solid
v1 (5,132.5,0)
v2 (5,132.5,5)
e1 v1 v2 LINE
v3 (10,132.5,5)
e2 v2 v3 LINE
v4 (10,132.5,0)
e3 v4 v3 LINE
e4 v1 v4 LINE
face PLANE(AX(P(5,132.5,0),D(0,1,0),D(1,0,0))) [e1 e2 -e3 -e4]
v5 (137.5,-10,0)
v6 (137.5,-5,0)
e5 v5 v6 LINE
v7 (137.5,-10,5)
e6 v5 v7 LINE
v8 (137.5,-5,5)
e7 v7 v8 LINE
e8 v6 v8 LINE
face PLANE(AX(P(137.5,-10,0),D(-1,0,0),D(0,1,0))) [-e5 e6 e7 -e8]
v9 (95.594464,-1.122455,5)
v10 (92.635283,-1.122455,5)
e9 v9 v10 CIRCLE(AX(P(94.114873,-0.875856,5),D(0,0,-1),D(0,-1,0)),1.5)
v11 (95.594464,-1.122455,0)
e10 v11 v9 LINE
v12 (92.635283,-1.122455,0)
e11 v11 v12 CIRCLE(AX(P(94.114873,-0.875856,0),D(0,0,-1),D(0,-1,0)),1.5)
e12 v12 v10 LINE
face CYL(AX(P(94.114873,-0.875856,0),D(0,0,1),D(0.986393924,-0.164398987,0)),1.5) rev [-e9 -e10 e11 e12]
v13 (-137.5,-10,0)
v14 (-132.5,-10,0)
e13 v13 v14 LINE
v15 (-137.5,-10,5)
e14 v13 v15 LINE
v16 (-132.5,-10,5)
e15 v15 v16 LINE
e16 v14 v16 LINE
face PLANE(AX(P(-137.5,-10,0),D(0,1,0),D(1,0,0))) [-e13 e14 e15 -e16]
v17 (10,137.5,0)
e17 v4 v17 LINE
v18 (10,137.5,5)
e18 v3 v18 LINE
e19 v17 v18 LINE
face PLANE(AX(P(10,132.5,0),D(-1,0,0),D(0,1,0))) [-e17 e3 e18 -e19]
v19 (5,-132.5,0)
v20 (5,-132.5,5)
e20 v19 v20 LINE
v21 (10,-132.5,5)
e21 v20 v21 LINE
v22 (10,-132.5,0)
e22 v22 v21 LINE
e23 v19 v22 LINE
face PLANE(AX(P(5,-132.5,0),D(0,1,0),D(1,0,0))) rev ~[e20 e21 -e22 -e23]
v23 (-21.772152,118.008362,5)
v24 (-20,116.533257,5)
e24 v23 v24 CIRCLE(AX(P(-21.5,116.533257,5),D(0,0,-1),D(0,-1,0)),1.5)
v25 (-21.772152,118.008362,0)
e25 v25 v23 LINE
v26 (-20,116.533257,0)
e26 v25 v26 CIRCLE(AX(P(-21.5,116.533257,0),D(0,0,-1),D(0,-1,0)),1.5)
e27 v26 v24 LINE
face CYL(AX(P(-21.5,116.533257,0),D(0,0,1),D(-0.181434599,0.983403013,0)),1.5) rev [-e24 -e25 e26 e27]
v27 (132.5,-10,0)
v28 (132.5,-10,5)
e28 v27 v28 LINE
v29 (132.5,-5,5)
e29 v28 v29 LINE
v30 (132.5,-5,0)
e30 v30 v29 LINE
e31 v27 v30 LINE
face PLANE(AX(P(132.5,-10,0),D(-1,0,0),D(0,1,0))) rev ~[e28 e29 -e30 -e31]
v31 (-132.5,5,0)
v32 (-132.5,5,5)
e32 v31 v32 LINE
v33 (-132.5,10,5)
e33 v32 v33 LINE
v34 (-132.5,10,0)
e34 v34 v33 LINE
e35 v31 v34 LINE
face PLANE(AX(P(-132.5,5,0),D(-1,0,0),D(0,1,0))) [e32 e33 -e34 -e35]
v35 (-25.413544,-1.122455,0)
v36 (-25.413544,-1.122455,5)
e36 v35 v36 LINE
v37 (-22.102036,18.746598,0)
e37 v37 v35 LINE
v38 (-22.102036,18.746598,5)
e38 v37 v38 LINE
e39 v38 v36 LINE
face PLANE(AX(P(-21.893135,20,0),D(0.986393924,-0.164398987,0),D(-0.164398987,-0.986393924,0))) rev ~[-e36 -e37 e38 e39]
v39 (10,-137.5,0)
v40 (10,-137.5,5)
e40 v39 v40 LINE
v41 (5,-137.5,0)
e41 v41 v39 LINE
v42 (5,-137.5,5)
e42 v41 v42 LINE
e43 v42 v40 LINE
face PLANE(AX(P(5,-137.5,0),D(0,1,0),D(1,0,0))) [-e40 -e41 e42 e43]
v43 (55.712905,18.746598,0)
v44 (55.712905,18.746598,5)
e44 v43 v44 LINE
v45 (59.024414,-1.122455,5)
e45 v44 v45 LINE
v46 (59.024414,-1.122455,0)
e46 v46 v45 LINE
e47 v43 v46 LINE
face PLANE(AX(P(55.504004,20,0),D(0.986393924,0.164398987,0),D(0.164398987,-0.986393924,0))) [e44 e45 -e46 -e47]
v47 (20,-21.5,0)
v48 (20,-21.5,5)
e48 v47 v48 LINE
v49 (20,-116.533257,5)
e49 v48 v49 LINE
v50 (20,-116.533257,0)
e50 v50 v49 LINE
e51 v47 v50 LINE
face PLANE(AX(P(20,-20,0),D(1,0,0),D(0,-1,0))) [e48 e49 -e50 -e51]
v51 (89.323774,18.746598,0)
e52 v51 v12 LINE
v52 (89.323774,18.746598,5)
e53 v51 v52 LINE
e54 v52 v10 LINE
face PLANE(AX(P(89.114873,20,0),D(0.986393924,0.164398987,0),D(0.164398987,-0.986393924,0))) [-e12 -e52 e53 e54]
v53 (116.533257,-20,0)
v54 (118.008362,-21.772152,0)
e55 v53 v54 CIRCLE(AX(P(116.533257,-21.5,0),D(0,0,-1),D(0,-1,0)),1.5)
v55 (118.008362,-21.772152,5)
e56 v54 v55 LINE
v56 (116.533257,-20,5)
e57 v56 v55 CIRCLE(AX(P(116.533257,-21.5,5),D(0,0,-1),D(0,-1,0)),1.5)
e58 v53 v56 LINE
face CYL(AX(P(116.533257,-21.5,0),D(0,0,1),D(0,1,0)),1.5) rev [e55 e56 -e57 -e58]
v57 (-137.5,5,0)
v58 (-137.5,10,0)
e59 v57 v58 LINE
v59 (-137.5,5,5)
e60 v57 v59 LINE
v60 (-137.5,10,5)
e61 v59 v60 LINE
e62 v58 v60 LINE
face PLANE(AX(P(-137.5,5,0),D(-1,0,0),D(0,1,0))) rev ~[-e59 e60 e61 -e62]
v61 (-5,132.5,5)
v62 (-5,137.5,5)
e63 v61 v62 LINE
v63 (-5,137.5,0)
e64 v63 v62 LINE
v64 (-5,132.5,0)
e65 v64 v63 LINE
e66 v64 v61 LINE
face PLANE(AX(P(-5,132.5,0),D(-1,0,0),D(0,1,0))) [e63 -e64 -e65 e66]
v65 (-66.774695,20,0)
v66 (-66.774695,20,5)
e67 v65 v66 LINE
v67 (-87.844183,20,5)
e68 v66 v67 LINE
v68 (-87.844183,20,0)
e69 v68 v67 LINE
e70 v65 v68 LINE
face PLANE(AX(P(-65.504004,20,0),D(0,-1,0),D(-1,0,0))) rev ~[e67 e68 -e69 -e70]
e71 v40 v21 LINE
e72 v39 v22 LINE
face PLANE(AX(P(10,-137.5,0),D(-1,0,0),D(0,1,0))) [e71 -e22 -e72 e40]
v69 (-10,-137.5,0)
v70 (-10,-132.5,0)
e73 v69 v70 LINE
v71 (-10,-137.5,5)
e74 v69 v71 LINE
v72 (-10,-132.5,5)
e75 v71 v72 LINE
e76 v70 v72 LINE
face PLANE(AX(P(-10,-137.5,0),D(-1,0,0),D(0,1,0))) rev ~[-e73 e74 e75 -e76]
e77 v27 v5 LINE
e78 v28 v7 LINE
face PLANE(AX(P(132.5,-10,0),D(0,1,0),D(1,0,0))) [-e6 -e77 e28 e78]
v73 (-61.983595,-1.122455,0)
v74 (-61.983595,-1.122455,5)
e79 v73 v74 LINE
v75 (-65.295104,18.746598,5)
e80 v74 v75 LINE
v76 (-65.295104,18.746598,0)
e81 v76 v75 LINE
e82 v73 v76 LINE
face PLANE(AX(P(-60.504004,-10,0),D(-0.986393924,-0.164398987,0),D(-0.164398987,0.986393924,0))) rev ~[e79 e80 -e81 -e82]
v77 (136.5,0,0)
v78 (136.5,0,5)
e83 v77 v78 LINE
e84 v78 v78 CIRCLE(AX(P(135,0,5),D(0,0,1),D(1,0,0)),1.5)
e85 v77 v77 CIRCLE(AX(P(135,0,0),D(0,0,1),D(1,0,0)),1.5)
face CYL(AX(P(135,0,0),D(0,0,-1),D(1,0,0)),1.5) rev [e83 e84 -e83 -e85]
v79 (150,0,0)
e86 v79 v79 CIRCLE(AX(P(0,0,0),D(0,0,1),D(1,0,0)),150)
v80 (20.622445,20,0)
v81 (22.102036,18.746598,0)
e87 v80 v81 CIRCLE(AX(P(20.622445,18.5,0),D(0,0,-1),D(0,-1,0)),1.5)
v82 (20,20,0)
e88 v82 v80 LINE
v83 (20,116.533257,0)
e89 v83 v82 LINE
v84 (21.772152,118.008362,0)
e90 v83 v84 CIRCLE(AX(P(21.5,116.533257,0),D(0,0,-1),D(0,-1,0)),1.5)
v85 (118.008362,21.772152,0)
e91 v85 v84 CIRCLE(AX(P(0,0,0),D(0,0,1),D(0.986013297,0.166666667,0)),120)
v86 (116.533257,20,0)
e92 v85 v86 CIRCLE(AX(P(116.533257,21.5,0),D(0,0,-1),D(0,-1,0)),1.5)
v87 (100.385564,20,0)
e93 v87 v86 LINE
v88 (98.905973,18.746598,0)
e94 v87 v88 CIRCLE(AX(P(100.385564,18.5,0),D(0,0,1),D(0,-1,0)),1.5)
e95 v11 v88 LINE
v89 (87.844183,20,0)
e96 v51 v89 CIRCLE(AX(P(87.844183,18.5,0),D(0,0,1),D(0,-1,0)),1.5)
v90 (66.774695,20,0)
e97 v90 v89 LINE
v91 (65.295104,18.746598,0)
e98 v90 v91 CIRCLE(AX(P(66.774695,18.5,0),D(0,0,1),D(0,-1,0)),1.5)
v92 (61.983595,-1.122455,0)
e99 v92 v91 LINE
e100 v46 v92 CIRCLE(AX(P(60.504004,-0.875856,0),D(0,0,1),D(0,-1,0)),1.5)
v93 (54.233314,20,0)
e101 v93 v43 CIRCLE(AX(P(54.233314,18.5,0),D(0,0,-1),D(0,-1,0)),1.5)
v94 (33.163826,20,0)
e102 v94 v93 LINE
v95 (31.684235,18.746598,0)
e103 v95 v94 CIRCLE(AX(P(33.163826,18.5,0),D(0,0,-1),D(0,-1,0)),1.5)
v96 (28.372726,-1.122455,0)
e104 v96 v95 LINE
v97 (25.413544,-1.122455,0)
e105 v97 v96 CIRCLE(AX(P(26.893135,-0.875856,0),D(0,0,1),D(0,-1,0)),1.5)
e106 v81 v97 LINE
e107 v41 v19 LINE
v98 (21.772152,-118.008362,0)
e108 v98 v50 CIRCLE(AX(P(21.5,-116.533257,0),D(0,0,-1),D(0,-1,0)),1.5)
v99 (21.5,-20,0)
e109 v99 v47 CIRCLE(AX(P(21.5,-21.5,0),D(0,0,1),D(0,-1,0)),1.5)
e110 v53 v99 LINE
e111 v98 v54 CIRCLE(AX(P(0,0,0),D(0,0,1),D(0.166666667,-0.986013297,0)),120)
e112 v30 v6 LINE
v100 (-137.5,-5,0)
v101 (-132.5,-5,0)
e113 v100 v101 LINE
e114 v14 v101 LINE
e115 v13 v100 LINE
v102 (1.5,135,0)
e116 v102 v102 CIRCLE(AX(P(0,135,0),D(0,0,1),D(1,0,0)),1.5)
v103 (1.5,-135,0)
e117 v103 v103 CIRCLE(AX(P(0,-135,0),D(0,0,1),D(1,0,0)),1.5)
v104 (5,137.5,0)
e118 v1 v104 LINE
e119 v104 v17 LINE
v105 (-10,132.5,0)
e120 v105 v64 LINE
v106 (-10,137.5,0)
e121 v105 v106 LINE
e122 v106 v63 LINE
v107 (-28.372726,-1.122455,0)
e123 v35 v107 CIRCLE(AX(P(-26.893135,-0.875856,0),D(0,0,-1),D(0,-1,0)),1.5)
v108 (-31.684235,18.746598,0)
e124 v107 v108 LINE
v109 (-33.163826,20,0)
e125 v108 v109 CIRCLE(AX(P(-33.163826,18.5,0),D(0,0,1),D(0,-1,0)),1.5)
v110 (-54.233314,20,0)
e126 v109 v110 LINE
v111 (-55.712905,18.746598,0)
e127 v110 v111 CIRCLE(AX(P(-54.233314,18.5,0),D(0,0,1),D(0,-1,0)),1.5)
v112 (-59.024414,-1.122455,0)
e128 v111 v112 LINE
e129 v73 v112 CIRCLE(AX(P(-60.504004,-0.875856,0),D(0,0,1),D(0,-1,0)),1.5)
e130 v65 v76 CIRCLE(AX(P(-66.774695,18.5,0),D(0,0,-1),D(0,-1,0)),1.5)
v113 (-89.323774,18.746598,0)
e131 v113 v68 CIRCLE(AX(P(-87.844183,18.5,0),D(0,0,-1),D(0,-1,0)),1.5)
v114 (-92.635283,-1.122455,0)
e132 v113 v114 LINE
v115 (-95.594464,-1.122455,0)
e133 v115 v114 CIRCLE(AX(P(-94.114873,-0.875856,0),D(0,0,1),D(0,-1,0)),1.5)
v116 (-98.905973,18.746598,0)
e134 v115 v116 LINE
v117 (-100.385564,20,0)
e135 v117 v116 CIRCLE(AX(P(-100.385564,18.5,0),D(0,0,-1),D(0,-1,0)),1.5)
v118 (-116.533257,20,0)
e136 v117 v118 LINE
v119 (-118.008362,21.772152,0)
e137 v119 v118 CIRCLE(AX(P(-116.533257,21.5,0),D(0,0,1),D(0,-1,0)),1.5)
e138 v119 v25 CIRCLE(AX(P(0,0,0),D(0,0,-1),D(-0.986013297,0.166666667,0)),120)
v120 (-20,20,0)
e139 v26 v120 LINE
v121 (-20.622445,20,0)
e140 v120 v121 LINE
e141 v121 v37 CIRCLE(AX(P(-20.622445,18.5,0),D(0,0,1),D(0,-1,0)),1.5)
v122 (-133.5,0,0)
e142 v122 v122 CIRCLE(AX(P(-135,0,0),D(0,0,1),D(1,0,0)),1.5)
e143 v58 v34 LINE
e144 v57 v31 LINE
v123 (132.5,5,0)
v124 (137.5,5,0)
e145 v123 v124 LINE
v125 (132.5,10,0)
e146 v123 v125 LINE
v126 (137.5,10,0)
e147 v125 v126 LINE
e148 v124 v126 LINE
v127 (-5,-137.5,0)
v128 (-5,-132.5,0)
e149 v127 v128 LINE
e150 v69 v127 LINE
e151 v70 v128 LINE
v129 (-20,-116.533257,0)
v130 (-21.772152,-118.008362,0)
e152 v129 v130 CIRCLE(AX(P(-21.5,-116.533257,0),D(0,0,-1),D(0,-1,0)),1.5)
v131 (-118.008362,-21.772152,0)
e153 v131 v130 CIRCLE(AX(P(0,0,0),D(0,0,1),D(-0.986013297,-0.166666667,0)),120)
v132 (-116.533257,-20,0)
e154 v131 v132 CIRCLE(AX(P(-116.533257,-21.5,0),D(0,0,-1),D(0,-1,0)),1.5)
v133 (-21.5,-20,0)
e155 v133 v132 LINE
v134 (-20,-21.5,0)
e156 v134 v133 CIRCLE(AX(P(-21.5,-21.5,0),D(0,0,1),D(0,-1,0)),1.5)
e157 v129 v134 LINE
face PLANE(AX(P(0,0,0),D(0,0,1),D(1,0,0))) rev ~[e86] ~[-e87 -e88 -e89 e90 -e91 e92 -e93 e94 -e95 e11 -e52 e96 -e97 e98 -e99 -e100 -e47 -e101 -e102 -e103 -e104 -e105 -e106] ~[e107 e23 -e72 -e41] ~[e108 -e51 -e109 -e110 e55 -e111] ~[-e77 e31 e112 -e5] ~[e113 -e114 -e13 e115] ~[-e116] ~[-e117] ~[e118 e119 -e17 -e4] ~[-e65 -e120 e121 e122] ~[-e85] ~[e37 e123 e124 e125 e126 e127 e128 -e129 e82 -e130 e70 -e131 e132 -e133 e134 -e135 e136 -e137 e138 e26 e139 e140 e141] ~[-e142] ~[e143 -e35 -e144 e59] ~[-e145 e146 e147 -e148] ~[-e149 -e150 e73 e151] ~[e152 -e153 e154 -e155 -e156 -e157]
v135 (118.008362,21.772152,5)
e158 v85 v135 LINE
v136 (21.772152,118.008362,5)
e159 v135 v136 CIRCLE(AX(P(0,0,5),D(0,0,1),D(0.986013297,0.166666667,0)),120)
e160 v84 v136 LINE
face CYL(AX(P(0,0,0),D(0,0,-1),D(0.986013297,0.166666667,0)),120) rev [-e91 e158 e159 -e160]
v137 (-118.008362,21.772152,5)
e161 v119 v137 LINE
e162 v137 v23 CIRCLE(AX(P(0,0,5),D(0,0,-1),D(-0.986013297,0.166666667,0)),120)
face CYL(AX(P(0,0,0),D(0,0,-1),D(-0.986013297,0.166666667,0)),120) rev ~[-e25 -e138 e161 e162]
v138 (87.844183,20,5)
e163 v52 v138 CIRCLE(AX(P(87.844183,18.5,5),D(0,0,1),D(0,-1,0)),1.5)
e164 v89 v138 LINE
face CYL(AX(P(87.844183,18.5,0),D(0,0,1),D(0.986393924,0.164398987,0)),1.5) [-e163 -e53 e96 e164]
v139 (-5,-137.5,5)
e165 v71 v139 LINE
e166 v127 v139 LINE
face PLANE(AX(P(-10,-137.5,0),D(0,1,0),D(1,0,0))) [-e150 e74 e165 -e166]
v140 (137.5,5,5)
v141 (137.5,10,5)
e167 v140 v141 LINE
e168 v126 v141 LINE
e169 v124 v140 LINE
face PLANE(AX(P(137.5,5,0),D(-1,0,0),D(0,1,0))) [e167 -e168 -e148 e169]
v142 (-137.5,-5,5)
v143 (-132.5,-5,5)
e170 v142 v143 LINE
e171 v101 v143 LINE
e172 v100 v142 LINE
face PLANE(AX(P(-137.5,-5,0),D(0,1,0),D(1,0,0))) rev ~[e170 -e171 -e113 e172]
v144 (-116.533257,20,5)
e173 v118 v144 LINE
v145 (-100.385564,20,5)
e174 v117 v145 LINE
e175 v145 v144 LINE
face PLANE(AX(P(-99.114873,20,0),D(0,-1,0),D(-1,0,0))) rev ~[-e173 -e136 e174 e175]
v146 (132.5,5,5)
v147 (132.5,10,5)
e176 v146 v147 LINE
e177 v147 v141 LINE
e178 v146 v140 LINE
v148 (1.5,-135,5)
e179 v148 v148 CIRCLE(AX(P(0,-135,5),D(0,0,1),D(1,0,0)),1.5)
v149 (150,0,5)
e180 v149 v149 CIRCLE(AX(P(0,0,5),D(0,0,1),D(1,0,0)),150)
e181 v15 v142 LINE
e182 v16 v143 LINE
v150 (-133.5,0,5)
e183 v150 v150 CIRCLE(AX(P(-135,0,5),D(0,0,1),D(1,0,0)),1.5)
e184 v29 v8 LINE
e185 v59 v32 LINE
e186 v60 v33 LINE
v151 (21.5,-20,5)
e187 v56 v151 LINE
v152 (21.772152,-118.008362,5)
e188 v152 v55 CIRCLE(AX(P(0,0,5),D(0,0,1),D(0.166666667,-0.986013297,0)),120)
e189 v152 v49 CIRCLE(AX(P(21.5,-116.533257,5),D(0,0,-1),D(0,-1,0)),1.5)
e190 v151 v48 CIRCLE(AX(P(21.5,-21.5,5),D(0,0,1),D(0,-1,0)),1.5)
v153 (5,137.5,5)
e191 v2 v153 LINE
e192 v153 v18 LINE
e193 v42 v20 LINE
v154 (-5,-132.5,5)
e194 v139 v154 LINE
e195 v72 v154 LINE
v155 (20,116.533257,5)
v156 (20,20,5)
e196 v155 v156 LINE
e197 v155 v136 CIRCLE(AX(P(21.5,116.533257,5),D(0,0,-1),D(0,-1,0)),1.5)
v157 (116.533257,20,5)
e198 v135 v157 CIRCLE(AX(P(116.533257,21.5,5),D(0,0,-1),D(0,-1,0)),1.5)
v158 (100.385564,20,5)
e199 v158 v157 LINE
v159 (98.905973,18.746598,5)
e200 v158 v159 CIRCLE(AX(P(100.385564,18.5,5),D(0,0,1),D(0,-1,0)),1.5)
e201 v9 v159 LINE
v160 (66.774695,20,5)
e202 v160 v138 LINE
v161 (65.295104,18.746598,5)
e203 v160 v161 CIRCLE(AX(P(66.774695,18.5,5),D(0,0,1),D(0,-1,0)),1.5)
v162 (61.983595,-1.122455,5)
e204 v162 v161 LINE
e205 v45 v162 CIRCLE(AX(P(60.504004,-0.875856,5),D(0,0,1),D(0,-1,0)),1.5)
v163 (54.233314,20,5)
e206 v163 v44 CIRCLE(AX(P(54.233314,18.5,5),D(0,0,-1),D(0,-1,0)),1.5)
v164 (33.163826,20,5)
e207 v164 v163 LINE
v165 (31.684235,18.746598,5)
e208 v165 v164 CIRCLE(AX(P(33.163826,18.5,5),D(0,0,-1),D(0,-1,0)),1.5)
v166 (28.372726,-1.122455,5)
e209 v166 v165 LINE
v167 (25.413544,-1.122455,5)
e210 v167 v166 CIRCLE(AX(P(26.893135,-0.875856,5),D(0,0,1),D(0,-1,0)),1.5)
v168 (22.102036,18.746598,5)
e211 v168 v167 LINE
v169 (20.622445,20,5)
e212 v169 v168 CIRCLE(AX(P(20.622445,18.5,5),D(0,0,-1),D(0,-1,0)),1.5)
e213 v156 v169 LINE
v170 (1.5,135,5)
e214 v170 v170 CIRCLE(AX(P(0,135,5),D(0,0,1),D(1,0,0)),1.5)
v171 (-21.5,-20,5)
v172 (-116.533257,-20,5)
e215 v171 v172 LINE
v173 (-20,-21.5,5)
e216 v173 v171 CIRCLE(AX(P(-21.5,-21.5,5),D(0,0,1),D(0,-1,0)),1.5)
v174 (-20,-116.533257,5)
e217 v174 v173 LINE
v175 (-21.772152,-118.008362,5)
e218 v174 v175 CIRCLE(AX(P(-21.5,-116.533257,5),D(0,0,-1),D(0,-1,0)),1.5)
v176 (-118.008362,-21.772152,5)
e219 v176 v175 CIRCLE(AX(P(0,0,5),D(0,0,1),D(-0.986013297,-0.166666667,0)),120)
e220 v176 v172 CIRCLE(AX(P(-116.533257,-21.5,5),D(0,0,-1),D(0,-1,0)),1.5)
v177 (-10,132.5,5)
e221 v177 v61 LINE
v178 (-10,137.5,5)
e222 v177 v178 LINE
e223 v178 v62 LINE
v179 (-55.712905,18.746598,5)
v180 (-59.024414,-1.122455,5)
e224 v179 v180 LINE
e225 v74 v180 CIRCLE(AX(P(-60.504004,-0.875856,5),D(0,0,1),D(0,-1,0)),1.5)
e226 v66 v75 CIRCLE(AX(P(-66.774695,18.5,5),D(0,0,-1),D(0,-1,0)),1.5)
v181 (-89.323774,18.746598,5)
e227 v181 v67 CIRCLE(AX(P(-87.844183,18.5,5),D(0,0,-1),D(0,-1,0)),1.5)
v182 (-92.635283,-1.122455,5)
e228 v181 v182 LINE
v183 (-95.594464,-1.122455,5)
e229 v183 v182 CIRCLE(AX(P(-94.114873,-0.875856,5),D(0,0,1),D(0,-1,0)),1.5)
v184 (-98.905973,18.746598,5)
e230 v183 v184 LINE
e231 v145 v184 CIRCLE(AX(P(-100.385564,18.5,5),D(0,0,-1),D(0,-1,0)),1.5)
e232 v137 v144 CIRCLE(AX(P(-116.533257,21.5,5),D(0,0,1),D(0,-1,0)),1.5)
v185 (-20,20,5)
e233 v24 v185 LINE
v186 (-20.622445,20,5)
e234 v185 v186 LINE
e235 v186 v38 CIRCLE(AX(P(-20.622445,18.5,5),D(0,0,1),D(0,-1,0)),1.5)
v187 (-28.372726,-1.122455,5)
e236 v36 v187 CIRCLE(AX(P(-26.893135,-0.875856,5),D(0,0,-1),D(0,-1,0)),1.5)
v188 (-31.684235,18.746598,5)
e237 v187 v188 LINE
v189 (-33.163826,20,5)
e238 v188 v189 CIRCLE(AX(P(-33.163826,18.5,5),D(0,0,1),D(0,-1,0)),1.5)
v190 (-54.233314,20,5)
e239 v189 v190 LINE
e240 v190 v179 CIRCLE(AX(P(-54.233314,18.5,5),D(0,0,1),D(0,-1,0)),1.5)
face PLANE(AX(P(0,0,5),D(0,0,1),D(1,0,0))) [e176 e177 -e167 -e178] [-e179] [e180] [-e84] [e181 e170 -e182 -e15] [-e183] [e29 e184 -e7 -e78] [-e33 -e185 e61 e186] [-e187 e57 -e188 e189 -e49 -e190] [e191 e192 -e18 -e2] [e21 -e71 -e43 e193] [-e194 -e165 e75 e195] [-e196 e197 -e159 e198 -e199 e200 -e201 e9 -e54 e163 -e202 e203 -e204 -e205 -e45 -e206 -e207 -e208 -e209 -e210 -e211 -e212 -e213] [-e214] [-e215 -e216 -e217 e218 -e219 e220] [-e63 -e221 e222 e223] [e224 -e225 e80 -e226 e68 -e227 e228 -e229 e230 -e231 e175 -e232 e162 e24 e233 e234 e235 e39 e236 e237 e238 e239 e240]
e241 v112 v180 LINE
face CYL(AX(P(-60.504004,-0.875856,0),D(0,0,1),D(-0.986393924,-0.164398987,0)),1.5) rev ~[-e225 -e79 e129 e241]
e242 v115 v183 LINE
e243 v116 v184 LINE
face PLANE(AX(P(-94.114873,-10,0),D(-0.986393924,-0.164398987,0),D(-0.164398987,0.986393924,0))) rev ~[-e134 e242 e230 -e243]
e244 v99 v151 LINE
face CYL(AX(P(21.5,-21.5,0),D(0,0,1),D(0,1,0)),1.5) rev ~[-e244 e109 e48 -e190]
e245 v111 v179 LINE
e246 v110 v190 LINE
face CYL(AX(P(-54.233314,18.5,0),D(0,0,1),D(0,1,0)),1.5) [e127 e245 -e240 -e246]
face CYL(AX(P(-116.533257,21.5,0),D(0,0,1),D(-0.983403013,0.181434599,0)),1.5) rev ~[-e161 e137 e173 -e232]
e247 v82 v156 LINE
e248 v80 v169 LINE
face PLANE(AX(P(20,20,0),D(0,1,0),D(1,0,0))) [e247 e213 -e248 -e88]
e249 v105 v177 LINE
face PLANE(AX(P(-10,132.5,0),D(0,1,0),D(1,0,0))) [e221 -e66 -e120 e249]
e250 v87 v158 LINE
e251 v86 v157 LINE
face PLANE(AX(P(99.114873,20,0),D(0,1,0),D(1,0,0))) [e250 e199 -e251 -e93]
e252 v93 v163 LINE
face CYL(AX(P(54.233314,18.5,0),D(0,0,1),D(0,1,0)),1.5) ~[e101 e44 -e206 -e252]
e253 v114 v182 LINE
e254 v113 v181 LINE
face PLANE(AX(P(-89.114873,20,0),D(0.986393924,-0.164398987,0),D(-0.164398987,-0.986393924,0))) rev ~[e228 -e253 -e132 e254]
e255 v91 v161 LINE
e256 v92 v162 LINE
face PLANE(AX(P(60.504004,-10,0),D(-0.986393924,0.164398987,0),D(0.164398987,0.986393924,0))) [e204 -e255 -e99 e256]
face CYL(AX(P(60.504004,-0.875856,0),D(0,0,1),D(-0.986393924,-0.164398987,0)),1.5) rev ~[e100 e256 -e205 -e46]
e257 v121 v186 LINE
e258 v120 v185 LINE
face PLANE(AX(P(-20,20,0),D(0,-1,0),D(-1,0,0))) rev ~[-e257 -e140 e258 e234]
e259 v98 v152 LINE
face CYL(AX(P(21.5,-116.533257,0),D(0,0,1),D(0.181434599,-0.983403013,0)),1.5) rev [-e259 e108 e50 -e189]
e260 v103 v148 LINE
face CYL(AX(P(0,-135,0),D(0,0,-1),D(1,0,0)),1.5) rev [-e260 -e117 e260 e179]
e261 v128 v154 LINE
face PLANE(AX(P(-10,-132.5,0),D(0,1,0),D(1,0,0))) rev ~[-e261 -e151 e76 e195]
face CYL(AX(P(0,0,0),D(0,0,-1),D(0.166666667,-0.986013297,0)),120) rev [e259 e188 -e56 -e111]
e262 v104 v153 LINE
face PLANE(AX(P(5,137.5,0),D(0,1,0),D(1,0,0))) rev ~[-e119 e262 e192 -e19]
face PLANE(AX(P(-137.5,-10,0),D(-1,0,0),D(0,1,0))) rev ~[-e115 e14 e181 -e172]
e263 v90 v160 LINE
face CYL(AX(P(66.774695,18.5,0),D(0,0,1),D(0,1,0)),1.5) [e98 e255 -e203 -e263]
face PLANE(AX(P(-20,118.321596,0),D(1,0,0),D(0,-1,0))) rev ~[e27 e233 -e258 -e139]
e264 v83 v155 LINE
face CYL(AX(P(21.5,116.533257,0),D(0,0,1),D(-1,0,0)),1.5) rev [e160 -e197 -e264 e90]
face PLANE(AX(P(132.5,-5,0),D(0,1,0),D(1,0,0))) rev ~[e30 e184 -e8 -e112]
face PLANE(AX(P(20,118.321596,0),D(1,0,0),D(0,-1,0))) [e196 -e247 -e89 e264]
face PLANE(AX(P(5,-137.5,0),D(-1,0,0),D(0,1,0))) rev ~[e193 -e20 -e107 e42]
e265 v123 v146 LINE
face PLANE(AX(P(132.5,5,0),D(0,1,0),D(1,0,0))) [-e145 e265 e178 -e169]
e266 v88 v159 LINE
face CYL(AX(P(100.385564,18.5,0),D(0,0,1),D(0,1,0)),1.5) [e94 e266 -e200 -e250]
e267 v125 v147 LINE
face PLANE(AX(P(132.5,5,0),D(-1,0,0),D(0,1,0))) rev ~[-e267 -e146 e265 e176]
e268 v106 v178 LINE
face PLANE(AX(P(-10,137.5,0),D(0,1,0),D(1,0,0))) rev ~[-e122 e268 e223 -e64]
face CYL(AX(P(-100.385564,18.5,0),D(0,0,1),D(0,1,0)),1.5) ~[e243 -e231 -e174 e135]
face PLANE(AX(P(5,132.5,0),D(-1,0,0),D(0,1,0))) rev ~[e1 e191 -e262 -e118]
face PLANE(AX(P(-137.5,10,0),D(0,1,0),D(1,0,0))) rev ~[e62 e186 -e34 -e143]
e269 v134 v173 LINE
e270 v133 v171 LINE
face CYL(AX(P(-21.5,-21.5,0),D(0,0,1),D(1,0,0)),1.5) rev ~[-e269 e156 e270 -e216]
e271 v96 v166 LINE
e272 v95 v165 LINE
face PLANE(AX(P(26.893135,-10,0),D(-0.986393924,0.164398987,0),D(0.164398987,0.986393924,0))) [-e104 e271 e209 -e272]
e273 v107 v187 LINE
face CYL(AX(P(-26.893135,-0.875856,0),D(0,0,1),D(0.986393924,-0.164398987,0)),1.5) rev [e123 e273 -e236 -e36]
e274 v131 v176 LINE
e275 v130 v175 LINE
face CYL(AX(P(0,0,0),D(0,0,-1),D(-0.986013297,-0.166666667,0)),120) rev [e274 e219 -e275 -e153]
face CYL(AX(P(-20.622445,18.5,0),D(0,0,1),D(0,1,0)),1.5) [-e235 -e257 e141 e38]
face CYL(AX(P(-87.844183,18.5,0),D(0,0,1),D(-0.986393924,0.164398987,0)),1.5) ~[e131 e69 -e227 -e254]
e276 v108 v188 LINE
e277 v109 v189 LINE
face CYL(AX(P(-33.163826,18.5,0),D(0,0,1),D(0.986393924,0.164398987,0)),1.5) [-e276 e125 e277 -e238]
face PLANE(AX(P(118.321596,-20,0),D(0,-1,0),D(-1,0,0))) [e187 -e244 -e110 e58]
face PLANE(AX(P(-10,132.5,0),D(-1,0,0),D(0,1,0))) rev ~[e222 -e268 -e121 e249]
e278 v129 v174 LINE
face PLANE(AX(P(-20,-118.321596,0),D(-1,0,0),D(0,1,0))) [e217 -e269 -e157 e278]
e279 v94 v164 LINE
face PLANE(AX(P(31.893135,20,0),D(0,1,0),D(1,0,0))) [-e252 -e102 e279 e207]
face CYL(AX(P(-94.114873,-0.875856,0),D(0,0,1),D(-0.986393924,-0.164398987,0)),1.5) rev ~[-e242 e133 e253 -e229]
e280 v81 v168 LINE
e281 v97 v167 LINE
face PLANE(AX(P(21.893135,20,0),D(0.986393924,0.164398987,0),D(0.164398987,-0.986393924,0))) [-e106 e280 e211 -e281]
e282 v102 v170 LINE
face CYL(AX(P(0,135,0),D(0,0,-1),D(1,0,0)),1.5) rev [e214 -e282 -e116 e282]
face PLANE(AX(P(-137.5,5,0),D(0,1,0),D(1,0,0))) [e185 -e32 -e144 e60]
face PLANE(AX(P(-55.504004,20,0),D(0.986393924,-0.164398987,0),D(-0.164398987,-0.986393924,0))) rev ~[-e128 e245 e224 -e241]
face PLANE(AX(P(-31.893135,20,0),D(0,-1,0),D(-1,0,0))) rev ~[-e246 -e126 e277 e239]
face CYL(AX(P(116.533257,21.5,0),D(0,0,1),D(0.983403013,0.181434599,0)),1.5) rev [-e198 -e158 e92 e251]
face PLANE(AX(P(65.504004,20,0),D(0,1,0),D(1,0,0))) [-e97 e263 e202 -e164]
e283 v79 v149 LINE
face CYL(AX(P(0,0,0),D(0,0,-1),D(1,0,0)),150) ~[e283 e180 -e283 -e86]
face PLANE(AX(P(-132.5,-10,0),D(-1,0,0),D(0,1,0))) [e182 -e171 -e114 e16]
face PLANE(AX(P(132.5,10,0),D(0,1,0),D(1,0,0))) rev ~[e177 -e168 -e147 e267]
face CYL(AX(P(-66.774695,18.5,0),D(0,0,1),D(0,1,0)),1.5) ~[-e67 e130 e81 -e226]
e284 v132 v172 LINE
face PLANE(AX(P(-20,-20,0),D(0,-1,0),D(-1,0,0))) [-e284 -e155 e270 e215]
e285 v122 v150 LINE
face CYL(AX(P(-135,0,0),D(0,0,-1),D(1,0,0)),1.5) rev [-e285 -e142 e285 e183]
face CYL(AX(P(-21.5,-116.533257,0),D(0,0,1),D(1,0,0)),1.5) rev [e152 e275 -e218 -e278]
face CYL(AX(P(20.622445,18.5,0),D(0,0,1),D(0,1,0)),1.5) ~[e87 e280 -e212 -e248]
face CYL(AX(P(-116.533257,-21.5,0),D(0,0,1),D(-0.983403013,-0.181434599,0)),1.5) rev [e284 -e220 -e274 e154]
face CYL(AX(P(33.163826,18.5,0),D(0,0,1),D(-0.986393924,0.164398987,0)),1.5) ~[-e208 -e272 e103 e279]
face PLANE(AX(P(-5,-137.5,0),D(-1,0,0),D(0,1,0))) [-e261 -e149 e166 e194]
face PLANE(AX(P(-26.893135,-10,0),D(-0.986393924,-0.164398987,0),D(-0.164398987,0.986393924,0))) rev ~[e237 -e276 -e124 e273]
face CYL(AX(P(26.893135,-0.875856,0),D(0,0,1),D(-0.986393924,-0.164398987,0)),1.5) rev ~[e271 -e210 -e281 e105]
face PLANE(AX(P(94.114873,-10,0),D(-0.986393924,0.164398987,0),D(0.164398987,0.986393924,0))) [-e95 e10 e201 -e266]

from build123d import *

# Parameters (mm, degrees)
ESQUISSE1_R        = 150
ESQUISSE1_R_2      = 1.5
ESQUISSE1_W        = 5
ESQUISSE1_H        = 5
BOSS_EXTRU_1_DEPTH = 5
CONG_1_R           = 1.5


with BuildPart() as part:
    # Esquisse1 → Boss.-Extru.1 (new body)
    with BuildSketch(Plane.XY):
        Circle(ESQUISSE1_R)
        with Locations((-135, 0)):
            Circle(ESQUISSE1_R_2, mode=Mode.SUBTRACT)
        with Locations((0, 135)):
            Circle(ESQUISSE1_R_2, mode=Mode.SUBTRACT)
        with Locations((135, 0)):
            Circle(ESQUISSE1_R_2, mode=Mode.SUBTRACT)
        with Locations((0, -135)):
            Circle(ESQUISSE1_R_2, mode=Mode.SUBTRACT)
        with BuildLine():
            Line((-20, 118.321595662), (-20, 20))
            Line((-20, 20), (-21.893135369, 20))
            Line((-21.893135369, 20), (-26.893135369, -10))
            Line((-26.893135369, -10), (-31.893135369, 20))
            Line((-31.893135369, 20), (-55.504004396, 20))
            Line((-55.504004396, 20), (-60.504004396, -10))
            Line((-60.504004396, -10), (-65.504004396, 20))
            Line((-65.504004396, 20), (-89.114873423, 20))
            Line((-89.114873423, 20), (-94.114873423, -10))
            Line((-94.114873423, -10), (-99.114873423, 20))
            Line((-99.114873423, 20), (-118.321595662, 20))
            ThreePointArc((-118.321595662, 20), (-84.852813742, 84.852813742), (-20, 118.321595662))
        make_face(mode=Mode.SUBTRACT)
        with BuildLine():
            Line((20, 118.321595662), (20, 20))
            Line((20, 20), (21.893135369, 20))
            Line((21.893135369, 20), (26.893135369, -10))
            Line((26.893135369, -10), (31.893135369, 20))
            Line((31.893135369, 20), (55.504004396, 20))
            Line((55.504004396, 20), (60.504004396, -10))
            Line((60.504004396, -10), (65.504004396, 20))
            Line((65.504004396, 20), (89.114873423, 20))
            Line((89.114873423, 20), (94.114873423, -10))
            Line((94.114873423, -10), (99.114873423, 20))
            Line((99.114873423, 20), (118.321595662, 20))
            ThreePointArc((118.321595662, 20), (84.852813742, 84.852813742), (20, 118.321595662))
        make_face(mode=Mode.SUBTRACT)
        with BuildLine():
            Line((118.321595662, -20), (20, -20))
            Line((20, -20), (20, -118.321595662))
            ThreePointArc((20, -118.321595662), (84.852813742, -84.852813742), (118.321595662, -20))
        make_face(mode=Mode.SUBTRACT)
        with BuildLine():
            Line((-20, -118.321595662), (-20, -20))
            Line((-20, -20), (-118.321595662, -20))
            ThreePointArc((-118.321595662, -20), (-84.852813742, -84.852813742), (-20, -118.321595662))
        make_face(mode=Mode.SUBTRACT)
        with Locations((-135, -7.5)):
            Rectangle(ESQUISSE1_W, ESQUISSE1_H, mode=Mode.SUBTRACT)
        with Locations((-135, 7.5)):
            Rectangle(ESQUISSE1_W, ESQUISSE1_H, mode=Mode.SUBTRACT)
        with Locations((-7.5, 135)):
            Rectangle(ESQUISSE1_W, ESQUISSE1_H, mode=Mode.SUBTRACT)
        with Locations((7.5, 135)):
            Rectangle(ESQUISSE1_W, ESQUISSE1_H, mode=Mode.SUBTRACT)
        with Locations((135, 7.5)):
            Rectangle(ESQUISSE1_W, ESQUISSE1_H, mode=Mode.SUBTRACT)
        with Locations((135, -7.5)):
            Rectangle(ESQUISSE1_W, ESQUISSE1_H, mode=Mode.SUBTRACT)
        with Locations((7.5, -135)):
            Rectangle(ESQUISSE1_W, ESQUISSE1_H, mode=Mode.SUBTRACT)
        with Locations((-7.5, -135)):
            Rectangle(ESQUISSE1_W, ESQUISSE1_H, mode=Mode.SUBTRACT)
    extrude(amount=BOSS_EXTRU_1_DEPTH)

    # Congé1
    cong_1_edges = [part.edges().sort_by_distance(p)[0] for p in [
        (-20, -20, 2.5),
        (-118.321595662, -20, 2.5),
        (-20, -118.321595662, 2.5),
        (20, -20, 2.5),
        (20, -118.321595662, 2.5),
        (118.321595662, -20, 2.5),
        (21.893135369, 20, 2.5),
        (26.893135369, -10, 2.5),
        (31.893135369, 20, 2.5),
        (55.504004396, 20, 2.5),
        (60.504004396, -10, 2.5),
        (65.504004396, 20, 2.5),
        (89.114873423, 20, 2.5),
        (94.114873423, -10, 2.5),
        (99.114873423, 20, 2.5),
        (118.321595662, 20, 2.5),
        (20, 118.321595662, 2.5),
        (-99.114873423, 20, 2.5),
        (-94.114873423, -10, 2.5),
        (-89.114873423, 20, 2.5),
        (-65.504004396, 20, 2.5),
        (-60.504004396, -10, 2.5),
        (-55.504004396, 20, 2.5),
        (-31.893135369, 20, 2.5),
        (-26.893135369, -10, 2.5),
        (-21.893135369, 20, 2.5),
        (-20, 118.321595662, 2.5),
        (-118.321595662, 20, 2.5),
    ]]
    fillet(cong_1_edges, radius=CONG_1_R)


solid = part.part
